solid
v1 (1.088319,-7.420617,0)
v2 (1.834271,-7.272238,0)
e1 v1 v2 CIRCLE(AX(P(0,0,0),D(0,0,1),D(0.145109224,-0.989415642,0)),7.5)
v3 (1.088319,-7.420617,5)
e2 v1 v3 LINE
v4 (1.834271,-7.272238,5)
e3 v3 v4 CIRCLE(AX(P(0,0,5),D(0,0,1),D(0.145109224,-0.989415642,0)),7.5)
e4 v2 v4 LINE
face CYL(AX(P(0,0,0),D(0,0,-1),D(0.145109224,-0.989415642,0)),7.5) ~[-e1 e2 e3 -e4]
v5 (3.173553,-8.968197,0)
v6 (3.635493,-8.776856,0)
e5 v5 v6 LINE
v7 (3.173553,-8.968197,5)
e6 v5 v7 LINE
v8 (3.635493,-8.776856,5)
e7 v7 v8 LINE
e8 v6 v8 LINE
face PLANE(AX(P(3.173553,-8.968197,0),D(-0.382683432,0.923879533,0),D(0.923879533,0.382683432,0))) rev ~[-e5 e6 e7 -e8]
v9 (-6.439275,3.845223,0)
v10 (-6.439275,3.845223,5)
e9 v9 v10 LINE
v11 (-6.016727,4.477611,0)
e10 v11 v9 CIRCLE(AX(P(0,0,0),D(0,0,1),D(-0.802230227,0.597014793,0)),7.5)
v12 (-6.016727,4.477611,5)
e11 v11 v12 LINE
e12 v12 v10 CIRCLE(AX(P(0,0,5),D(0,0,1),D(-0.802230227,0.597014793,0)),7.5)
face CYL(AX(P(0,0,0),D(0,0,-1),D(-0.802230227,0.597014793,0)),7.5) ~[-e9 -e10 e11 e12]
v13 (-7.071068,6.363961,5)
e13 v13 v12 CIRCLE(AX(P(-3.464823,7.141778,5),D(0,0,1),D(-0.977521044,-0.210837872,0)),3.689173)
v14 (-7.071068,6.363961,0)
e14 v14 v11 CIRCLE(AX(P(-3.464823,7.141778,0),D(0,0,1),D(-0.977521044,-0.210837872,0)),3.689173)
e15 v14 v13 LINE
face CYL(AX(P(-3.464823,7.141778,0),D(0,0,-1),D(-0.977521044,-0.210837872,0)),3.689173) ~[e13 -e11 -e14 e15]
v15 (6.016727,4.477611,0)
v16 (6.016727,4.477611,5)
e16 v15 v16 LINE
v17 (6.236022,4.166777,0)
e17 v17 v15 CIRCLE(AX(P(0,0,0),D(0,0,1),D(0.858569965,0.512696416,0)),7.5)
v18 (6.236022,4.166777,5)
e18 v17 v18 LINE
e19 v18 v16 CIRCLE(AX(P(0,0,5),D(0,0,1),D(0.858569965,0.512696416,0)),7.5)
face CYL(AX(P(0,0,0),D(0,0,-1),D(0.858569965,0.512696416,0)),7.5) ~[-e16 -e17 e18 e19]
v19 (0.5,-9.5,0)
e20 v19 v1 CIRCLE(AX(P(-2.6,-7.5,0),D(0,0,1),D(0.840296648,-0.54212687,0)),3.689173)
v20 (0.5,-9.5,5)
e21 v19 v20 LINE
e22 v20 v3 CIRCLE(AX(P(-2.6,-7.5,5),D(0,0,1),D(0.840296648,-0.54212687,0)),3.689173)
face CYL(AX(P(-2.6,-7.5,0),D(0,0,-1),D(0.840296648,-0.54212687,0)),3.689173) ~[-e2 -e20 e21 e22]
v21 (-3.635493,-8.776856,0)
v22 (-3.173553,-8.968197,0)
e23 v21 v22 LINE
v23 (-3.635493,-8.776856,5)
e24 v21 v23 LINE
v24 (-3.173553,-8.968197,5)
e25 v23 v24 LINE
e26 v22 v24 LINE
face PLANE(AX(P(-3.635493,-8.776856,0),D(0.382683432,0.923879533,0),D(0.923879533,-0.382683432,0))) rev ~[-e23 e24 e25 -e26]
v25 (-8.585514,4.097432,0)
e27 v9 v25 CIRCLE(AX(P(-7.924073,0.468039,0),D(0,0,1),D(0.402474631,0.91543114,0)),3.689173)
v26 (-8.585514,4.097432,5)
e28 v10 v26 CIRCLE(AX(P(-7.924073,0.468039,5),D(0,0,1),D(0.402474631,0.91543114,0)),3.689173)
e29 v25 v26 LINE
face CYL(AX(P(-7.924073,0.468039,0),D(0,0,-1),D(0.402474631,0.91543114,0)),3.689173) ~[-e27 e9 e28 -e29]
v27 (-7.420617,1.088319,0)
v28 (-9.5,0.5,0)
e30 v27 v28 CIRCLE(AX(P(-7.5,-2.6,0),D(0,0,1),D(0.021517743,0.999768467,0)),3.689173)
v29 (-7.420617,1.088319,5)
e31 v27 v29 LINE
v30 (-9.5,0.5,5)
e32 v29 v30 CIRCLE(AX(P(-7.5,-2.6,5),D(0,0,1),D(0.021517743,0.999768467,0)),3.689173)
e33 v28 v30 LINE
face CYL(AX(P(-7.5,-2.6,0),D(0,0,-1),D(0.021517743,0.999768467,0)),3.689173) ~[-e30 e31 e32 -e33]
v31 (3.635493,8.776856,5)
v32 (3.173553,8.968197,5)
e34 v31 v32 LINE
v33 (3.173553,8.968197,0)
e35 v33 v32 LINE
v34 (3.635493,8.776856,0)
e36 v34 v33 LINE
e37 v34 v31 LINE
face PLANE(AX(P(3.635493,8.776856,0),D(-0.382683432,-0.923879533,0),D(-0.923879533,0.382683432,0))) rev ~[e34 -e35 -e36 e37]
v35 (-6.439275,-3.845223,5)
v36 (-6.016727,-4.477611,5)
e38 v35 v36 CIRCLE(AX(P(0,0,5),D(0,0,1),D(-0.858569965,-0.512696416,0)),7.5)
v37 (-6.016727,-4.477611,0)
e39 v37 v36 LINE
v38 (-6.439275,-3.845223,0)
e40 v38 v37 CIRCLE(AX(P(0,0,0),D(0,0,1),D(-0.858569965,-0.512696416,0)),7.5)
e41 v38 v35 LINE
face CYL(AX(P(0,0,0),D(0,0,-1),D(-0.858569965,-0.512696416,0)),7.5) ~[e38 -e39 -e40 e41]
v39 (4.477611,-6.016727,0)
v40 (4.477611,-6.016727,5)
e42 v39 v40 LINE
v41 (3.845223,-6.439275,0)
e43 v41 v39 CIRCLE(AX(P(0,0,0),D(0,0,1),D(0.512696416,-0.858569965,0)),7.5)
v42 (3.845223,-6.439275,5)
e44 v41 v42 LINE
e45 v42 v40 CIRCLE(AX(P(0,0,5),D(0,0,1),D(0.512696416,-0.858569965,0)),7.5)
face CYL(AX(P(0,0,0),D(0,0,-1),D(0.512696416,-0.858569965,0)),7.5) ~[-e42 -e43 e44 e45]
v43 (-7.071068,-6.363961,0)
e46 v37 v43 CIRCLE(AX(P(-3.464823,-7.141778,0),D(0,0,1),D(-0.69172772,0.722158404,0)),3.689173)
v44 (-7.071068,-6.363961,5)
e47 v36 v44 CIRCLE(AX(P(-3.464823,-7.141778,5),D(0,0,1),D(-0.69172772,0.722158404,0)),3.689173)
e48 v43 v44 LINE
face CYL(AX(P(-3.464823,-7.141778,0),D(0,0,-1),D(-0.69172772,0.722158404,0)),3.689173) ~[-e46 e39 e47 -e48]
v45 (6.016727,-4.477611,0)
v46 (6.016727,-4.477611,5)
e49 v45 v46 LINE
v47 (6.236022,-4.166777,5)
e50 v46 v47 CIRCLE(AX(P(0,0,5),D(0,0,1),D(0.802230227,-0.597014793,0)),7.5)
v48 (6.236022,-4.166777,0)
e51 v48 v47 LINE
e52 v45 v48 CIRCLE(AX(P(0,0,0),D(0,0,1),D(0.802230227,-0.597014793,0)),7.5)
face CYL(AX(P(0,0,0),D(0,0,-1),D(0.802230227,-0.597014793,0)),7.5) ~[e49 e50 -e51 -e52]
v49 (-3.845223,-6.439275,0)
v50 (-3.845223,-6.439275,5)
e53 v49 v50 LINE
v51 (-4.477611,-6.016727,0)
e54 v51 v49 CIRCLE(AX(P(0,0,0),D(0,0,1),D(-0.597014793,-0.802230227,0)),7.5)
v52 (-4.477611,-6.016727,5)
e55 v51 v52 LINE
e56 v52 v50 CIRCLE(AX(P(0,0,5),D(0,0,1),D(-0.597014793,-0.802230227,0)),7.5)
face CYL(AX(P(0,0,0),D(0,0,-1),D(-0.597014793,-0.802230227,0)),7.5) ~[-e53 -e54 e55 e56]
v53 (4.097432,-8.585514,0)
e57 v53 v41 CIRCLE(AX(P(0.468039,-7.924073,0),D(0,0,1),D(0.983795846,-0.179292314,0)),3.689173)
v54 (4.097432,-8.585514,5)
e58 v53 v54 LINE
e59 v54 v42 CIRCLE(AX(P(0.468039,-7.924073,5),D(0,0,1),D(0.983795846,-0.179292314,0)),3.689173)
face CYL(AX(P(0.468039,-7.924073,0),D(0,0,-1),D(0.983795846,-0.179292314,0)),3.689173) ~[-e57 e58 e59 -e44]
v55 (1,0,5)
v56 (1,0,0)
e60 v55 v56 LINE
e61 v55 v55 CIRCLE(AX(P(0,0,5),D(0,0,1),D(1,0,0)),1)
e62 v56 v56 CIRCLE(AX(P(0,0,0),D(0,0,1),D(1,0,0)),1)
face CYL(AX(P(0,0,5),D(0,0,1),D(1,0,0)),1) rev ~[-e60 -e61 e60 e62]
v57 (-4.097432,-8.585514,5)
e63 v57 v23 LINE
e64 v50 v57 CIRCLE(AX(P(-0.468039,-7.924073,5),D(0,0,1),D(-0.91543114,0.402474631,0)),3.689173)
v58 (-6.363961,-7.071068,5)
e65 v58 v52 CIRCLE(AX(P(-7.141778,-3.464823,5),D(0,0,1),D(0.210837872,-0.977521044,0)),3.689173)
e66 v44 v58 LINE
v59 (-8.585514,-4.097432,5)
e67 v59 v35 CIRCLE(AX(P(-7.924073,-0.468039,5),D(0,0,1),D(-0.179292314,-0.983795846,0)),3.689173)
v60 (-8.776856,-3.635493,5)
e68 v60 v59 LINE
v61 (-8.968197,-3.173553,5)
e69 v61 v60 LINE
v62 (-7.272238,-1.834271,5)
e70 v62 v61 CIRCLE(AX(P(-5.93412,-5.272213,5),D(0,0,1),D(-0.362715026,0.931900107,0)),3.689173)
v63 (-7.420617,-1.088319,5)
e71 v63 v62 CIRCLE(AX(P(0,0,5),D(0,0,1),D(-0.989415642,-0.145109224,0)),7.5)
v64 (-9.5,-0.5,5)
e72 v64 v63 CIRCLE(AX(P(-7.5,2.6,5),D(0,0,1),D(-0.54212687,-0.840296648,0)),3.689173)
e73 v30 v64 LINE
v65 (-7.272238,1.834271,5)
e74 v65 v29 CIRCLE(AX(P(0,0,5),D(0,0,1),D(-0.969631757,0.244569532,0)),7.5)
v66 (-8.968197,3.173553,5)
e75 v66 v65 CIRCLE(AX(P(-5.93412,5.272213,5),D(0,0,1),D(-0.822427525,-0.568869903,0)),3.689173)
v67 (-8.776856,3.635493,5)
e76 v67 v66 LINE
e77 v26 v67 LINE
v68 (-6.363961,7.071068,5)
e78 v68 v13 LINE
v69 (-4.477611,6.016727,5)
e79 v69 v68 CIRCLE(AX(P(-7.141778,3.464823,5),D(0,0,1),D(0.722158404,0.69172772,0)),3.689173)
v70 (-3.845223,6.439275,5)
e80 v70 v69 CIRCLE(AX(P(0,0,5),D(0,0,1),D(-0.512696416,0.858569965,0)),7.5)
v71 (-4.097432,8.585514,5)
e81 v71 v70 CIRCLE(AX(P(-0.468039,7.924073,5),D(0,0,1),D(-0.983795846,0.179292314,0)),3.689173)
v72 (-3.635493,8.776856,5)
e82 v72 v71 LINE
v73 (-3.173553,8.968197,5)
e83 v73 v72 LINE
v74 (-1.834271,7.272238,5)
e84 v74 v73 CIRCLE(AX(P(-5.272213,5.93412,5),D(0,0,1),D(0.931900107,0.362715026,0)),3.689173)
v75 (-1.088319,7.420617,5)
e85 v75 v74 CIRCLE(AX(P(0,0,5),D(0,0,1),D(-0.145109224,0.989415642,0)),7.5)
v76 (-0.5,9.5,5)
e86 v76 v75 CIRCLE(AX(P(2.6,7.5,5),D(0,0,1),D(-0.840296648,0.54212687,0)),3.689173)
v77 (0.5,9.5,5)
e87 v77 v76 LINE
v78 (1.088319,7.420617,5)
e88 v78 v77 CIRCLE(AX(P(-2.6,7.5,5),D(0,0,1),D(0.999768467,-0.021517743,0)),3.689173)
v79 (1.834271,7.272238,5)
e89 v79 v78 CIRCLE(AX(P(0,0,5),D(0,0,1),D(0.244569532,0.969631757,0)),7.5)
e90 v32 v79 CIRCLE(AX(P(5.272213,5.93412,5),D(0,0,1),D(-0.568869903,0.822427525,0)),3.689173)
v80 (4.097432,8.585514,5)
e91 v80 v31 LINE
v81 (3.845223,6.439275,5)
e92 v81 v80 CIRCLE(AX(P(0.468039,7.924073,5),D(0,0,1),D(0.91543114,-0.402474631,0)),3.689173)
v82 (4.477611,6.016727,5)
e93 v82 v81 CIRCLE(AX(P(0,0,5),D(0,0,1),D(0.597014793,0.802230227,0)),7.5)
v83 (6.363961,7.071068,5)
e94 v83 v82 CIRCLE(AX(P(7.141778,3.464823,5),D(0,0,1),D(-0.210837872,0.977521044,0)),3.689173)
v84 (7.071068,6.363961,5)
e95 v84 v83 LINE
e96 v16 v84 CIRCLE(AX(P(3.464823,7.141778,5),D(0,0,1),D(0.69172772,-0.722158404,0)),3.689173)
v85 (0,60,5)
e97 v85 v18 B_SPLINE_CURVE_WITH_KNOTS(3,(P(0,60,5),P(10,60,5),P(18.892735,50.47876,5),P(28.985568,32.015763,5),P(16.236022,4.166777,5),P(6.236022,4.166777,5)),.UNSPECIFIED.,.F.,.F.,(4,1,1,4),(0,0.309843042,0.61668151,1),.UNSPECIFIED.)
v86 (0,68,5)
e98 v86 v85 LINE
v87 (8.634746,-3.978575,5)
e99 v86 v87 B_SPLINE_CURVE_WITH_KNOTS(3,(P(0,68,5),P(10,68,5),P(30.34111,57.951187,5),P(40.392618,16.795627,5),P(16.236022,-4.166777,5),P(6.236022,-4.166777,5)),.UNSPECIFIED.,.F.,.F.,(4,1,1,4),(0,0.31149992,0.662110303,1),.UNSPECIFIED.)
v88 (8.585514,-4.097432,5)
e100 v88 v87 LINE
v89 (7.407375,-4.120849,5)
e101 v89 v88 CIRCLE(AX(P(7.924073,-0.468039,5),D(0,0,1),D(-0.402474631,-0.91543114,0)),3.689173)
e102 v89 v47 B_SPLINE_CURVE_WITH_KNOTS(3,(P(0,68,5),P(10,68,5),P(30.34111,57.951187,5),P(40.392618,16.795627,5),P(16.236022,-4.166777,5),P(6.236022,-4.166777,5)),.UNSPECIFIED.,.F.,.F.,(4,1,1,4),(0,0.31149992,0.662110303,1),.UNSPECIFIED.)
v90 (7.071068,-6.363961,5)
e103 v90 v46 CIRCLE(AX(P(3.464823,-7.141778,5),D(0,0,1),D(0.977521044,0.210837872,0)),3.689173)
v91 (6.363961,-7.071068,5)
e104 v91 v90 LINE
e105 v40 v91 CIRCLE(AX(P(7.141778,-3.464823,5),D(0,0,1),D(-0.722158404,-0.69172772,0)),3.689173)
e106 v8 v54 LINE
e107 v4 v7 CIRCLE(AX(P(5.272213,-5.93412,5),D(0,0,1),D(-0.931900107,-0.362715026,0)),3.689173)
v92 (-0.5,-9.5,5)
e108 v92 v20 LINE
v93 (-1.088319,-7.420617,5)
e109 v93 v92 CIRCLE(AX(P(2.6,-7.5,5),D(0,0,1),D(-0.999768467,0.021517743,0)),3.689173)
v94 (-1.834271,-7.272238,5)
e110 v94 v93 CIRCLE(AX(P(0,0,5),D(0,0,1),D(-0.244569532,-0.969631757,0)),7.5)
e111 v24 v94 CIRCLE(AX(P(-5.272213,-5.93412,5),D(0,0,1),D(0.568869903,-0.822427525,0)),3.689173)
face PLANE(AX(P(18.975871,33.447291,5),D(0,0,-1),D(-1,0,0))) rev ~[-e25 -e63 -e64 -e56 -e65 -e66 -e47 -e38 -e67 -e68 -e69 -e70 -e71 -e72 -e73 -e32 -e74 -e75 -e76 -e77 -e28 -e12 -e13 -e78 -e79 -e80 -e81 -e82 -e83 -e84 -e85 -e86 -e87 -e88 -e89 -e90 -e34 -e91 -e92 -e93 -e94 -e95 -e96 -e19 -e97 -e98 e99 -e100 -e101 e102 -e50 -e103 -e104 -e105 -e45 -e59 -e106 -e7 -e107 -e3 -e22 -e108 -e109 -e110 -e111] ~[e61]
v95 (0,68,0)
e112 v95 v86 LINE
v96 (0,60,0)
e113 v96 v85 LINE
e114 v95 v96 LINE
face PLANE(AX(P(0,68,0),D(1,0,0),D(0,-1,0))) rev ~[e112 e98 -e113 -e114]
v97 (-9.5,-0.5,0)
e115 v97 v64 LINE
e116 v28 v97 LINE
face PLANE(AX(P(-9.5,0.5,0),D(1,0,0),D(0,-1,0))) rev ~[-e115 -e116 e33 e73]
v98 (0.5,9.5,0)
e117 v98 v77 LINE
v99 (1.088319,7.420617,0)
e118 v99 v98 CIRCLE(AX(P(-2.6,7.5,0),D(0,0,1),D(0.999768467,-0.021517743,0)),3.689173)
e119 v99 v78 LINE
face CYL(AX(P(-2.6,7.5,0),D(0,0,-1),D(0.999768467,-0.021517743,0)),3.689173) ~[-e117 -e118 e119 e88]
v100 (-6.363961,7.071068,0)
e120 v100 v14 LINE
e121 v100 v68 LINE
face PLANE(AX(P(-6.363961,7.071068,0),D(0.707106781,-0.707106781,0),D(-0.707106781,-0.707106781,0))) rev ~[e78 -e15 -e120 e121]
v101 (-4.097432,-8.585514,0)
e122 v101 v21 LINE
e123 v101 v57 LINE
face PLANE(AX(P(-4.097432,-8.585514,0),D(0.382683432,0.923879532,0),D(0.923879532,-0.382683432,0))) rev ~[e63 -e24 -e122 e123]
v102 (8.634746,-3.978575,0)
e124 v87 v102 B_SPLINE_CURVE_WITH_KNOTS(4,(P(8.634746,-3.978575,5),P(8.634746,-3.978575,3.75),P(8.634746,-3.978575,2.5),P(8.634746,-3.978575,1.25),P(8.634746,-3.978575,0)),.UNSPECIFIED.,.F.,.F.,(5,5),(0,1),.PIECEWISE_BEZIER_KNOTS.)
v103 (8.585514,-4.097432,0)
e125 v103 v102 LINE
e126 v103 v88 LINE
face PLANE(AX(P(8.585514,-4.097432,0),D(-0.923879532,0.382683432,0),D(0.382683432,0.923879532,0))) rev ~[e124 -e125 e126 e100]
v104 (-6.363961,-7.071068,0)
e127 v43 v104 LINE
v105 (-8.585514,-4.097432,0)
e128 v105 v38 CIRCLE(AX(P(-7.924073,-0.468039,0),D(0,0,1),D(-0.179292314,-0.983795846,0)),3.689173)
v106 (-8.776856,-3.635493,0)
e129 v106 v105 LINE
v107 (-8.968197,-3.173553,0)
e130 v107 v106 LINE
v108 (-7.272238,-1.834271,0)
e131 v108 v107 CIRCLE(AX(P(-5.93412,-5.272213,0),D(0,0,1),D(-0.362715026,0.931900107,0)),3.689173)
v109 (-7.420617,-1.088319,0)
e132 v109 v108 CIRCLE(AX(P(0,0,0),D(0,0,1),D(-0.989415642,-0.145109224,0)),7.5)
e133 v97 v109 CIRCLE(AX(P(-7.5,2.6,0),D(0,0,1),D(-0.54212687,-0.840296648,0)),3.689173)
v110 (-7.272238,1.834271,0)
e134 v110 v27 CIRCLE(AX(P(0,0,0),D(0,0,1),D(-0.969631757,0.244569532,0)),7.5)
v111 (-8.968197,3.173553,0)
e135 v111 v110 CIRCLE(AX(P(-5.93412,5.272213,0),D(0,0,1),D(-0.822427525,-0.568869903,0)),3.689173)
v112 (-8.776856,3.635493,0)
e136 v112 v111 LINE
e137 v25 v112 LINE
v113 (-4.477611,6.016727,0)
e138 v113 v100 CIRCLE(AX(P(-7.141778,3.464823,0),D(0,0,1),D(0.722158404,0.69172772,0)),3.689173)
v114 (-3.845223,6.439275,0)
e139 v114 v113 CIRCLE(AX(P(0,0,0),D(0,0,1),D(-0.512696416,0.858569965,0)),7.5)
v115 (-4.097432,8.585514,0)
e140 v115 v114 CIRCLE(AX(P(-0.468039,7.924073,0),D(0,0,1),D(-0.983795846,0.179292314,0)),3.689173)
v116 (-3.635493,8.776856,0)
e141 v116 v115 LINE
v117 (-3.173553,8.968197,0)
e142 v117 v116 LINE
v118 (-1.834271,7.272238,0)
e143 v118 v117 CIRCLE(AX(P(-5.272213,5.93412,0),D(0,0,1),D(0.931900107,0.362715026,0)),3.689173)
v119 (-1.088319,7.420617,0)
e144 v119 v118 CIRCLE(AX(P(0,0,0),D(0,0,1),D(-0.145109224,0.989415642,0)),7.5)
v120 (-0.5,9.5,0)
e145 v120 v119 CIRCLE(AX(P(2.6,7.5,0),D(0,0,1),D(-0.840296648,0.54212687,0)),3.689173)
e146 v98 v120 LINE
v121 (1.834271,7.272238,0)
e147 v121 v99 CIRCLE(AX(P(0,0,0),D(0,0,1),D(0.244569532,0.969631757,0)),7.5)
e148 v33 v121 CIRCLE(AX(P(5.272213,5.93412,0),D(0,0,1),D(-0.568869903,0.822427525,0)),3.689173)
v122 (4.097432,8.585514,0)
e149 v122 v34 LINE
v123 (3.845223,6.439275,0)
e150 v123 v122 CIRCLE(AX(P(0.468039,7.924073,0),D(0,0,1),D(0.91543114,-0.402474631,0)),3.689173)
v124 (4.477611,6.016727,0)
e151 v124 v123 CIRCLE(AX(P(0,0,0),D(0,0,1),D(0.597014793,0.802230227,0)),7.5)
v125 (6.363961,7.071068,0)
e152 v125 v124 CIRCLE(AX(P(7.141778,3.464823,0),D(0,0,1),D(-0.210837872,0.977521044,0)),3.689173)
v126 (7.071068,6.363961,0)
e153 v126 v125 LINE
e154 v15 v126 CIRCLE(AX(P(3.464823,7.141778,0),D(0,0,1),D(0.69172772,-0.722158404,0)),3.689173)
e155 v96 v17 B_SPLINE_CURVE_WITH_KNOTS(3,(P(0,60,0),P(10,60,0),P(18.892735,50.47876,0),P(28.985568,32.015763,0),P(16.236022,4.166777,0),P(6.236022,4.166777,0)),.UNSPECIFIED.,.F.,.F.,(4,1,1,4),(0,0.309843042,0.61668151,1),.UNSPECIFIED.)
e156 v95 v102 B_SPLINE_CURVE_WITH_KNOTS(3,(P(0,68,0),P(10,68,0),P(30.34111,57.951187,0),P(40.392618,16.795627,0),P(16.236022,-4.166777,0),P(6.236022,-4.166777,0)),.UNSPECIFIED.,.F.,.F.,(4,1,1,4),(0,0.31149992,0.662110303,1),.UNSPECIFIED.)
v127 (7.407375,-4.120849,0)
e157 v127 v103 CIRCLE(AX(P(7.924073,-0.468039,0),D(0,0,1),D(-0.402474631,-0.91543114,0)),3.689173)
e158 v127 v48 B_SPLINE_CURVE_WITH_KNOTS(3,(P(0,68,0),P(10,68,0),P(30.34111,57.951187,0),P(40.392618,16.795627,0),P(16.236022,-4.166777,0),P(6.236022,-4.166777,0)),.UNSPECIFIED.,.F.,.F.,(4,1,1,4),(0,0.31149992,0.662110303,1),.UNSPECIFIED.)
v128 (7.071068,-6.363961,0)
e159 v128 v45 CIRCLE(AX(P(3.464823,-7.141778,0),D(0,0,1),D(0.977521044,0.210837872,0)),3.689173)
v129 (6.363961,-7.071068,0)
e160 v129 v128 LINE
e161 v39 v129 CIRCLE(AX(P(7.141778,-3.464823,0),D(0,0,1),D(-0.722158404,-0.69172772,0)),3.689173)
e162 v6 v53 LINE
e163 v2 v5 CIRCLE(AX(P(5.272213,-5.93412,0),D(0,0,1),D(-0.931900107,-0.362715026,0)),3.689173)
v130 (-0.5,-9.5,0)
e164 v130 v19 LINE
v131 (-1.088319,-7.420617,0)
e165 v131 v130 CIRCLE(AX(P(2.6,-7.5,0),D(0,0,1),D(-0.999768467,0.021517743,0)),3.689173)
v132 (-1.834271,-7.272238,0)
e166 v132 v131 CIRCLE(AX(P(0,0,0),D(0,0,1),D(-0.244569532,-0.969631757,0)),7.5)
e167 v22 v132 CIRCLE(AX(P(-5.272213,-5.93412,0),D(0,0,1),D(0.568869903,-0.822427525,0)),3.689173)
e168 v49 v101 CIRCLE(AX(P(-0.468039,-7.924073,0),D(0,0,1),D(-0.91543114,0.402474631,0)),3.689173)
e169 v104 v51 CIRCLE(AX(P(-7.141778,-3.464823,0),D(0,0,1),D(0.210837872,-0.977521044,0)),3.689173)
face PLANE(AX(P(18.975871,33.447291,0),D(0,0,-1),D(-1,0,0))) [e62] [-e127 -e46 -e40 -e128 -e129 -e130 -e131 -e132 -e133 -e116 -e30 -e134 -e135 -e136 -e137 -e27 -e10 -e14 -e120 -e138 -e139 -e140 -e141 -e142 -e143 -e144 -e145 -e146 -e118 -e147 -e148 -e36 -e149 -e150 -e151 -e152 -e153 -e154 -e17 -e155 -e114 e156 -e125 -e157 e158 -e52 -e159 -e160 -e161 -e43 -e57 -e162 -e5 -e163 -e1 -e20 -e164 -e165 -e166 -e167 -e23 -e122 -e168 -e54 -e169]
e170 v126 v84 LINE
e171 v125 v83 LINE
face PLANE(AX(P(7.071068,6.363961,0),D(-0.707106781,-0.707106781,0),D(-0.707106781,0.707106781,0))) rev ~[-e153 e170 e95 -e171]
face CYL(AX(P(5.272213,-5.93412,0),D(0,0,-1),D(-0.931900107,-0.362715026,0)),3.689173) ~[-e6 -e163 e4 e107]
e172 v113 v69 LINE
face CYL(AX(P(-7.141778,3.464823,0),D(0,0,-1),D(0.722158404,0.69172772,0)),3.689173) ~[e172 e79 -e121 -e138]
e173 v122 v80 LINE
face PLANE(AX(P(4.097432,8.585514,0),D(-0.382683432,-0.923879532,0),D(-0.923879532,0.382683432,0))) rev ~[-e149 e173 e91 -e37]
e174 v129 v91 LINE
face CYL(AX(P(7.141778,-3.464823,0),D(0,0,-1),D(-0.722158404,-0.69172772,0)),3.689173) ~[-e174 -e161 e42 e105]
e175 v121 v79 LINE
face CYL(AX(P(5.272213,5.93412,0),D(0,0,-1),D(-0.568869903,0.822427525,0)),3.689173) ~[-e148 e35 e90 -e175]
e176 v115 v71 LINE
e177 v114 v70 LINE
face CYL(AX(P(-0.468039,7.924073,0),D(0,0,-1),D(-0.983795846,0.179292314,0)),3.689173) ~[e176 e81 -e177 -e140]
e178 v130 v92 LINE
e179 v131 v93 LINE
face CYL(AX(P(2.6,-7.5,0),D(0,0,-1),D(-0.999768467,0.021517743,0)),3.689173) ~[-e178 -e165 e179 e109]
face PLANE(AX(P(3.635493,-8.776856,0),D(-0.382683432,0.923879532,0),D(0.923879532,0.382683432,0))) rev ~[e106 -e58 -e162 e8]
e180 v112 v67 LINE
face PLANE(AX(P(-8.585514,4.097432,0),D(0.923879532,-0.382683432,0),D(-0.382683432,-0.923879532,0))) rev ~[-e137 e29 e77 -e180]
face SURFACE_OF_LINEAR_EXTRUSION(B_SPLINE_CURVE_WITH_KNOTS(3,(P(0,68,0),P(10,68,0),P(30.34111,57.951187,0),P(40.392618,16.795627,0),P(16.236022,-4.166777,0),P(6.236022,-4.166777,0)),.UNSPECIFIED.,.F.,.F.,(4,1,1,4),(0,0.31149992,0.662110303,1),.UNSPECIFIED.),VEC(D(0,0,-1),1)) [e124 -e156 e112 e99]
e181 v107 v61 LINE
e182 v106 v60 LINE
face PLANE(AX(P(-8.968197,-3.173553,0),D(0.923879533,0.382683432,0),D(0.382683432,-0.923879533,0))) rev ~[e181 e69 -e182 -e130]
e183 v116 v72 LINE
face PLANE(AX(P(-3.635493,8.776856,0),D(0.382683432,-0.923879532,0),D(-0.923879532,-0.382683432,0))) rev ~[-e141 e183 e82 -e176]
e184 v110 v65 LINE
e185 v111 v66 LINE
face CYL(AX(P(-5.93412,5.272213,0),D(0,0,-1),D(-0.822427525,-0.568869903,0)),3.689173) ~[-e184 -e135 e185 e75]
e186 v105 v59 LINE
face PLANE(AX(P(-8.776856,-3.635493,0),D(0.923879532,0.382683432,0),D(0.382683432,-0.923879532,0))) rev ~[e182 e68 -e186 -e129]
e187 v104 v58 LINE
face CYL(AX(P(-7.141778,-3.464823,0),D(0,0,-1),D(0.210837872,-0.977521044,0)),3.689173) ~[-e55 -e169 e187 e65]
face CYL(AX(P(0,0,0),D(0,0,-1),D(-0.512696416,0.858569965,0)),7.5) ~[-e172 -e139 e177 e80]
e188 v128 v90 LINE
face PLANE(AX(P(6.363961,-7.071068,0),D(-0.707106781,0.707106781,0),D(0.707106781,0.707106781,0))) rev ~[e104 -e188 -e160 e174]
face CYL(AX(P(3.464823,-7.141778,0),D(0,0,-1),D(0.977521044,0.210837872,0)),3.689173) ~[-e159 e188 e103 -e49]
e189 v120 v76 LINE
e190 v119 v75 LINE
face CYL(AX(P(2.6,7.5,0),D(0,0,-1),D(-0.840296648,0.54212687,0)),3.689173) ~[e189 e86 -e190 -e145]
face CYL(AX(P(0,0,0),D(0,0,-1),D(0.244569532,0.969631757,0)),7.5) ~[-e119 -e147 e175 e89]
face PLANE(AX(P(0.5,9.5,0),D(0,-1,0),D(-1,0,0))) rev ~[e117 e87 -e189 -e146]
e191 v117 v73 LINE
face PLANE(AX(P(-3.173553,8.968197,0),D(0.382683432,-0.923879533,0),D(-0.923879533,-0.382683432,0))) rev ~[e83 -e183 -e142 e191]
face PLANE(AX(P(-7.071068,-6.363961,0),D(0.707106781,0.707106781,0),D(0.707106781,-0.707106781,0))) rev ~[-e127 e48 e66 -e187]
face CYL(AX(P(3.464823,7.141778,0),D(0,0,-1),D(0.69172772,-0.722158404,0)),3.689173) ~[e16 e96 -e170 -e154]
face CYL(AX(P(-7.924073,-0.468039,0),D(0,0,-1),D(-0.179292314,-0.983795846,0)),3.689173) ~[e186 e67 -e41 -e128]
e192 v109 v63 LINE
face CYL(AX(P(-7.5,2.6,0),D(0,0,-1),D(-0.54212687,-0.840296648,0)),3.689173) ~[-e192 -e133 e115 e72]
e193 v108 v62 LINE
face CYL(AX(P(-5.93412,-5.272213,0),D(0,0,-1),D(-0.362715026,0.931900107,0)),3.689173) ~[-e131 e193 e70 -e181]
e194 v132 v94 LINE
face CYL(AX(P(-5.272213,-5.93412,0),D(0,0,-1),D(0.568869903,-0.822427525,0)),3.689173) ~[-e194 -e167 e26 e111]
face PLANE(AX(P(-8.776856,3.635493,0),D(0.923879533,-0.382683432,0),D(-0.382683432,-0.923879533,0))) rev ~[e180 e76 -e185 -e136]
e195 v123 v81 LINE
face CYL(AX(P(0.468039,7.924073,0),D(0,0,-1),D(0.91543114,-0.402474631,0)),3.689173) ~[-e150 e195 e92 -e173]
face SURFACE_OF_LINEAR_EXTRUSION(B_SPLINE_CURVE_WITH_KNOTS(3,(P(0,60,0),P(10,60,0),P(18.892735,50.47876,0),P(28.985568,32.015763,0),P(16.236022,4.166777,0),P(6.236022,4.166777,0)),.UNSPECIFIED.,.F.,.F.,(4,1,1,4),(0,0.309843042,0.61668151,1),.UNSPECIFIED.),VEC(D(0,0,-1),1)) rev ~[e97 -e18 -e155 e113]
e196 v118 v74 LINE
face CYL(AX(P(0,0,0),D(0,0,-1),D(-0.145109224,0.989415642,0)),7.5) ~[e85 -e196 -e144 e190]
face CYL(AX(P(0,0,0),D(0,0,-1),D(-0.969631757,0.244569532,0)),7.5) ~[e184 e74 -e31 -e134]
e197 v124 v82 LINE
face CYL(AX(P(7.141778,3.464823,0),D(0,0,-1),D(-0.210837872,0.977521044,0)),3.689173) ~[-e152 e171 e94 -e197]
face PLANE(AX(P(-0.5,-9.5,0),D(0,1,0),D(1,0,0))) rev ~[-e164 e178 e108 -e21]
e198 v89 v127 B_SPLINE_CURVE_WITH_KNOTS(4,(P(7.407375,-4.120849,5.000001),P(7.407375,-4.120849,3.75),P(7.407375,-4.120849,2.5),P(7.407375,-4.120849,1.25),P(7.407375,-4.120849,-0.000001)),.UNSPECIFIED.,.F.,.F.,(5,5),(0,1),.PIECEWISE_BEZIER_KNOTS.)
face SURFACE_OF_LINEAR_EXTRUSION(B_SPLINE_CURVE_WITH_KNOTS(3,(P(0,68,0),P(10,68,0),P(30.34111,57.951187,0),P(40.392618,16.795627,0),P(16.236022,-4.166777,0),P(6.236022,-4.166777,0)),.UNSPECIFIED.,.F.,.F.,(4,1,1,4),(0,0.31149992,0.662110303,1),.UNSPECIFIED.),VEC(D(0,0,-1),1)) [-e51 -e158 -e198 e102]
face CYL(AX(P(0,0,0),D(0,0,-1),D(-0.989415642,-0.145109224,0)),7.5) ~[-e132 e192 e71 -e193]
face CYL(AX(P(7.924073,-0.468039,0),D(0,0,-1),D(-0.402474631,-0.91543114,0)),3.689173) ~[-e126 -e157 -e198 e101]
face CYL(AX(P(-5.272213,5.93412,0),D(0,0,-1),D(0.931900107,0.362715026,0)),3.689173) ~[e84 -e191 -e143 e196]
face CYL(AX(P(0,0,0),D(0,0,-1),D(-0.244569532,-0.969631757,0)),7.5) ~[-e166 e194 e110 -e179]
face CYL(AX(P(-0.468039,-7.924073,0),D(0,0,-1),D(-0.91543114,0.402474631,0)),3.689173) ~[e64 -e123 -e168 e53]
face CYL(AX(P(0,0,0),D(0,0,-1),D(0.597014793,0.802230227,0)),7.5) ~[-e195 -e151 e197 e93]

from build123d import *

# Parameters (mm, degrees)
F1_DEPTH = 5
F2_R     = 1
F3_DEPTH = 5.001
F5_DEPTH = 5


with BuildPart() as f1:
    # F0 (on Top) → F1 (new body)
    with BuildSketch(Plane.XY):
        with BuildLine():
            ThreePointArc((7.4206173165, -1.0883191822), (7.4801280027, -0.5456052265), (7.5, 0))
            ThreePointArc((7.5, 0), (7.4801280027, 0.5456052265), (7.4206173165, 1.0883191822))
            ThreePointArc((7.4206173165, 1.0883191822), (7.355889603, 1.4631774151), (7.2722381774, 1.8342714877))
            ThreePointArc((7.2722381774, 1.8342714877), (6.9290964938, 2.8701257427), (6.4392747372, 3.8452231222))
            ThreePointArc((6.4392747372, 3.8452231222), (6.2360220923, 4.1667767476), (6.0167266989, 4.4776109513))
            ThreePointArc((6.0167266989, 4.4776109513), (5.3033008589, 5.3033008589), (4.4776109513, 6.0167266989))
            ThreePointArc((4.4776109513, 6.0167266989), (4.1667767476, 6.2360220923), (3.8452231222, 6.4392747372))
            ThreePointArc((3.8452231222, 6.4392747372), (2.8701257427, 6.9290964938), (1.8342714877, 7.2722381774))
            ThreePointArc((1.8342714877, 7.2722381774), (1.4631774151, 7.355889603), (1.0883191822, 7.4206173165))
            ThreePointArc((1.0883191822, 7.4206173165), (0, 7.5), (-1.0883191822, 7.4206173165))
            ThreePointArc((-1.0883191822, 7.4206173165), (-1.4631774151, 7.355889603), (-1.8342714877, 7.2722381774))
            ThreePointArc((-1.8342714877, 7.2722381774), (-2.8701257427, 6.9290964938), (-3.8452231222, 6.4392747372))
            ThreePointArc((-3.8452231222, 6.4392747372), (-4.1667767476, 6.2360220923), (-4.4776109513, 6.0167266989))
            ThreePointArc((-4.4776109513, 6.0167266989), (-5.3033008589, 5.3033008589), (-6.0167266989, 4.4776109513))
            ThreePointArc((-6.0167266989, 4.4776109513), (-6.2360220923, 4.1667767476), (-6.4392747372, 3.8452231222))
            ThreePointArc((-6.4392747372, 3.8452231222), (-6.9290964938, 2.8701257427), (-7.2722381774, 1.8342714877))
            ThreePointArc((-7.2722381774, 1.8342714877), (-7.355889603, 1.4631774151), (-7.4206173165, 1.0883191822))
            ThreePointArc((-7.4206173165, 1.0883191822), (-7.5, 0), (-7.4206173165, -1.0883191822))
            ThreePointArc((-7.4206173165, -1.0883191822), (-7.355889603, -1.4631774151), (-7.2722381774, -1.8342714877))
            ThreePointArc((-7.2722381774, -1.8342714877), (-6.9290964938, -2.8701257427), (-6.4392747372, -3.8452231222))
            ThreePointArc((-6.4392747372, -3.8452231222), (-6.2360220923, -4.1667767476), (-6.0167266989, -4.4776109513))
            ThreePointArc((-6.0167266989, -4.4776109513), (-5.3033008589, -5.3033008589), (-4.4776109513, -6.0167266989))
            ThreePointArc((-4.4776109513, -6.0167266989), (-4.1667767476, -6.2360220923), (-3.8452231222, -6.4392747372))
            ThreePointArc((-3.8452231222, -6.4392747372), (-2.8701257427, -6.9290964938), (-1.8342714877, -7.2722381774))
            ThreePointArc((-1.8342714877, -7.2722381774), (-1.4631774151, -7.355889603), (-1.0883191822, -7.4206173165))
            ThreePointArc((-1.0883191822, -7.4206173165), (0, -7.5), (1.0883191822, -7.4206173165))
            ThreePointArc((1.0883191822, -7.4206173165), (1.4631774151, -7.355889603), (1.8342714877, -7.2722381774))
            ThreePointArc((1.8342714877, -7.2722381774), (2.8701257427, -6.9290964938), (3.8452231222, -6.4392747372))
            ThreePointArc((3.8452231222, -6.4392747372), (4.1667767476, -6.2360220923), (4.4776109513, -6.0167266989))
            ThreePointArc((4.4776109513, -6.0167266989), (5.3033008589, -5.3033008589), (6.0167266989, -4.4776109513))
            ThreePointArc((6.0167266989, -4.4776109513), (6.2360220923, -4.1667767476), (6.4392747372, -3.8452231222))
            ThreePointArc((6.4392747372, -3.8452231222), (6.9290964938, -2.8701257427), (7.2722381774, -1.8342714877))
            ThreePointArc((7.2722381774, -1.8342714877), (7.355889603, -1.4631774151), (7.4206173165, -1.0883191822))
        make_face()
        with BuildLine():
            ThreePointArc((7.4206173165, 1.0883191822), (7.4801280027, 0.5456052265), (7.5, 0))
            ThreePointArc((7.5, 0), (7.4801280027, -0.5456052265), (7.4206173165, -1.0883191822))
            ThreePointArc((7.4206173165, -1.0883191822), (8.5043518229, -0.9498278009), (9.5, -0.5))
            Line((9.5, -0.5), (9.5, 0))
            Line((9.5, 0), (9.5, 0.5))
            ThreePointArc((9.5, 0.5), (8.5043518229, 0.9498278009), (7.4206173165, 1.0883191822))
        make_face()
        with BuildLine():
            ThreePointArc((6.4392747372, 3.8452231222), (6.9290964938, 2.8701257427), (7.2722381774, 1.8342714877))
            ThreePointArc((7.2722381774, 1.8342714877), (8.2204799494, 2.376948081), (8.968197275, 3.1735528412))
            Line((8.968197275, 3.1735528412), (8.7768555589, 3.6354926075))
            Line((8.7768555589, 3.6354926075), (8.5855138427, 4.0974323737))
            ThreePointArc((8.5855138427, 4.0974323737), (7.4935132234, 4.1320010103), (6.4392747372, 3.8452231222))
        make_face()
        with BuildLine():
            ThreePointArc((8.968197275, -3.1735528412), (8.2204799494, -2.376948081), (7.2722381774, -1.8342714877))
            ThreePointArc((7.2722381774, -1.8342714877), (6.9290964938, -2.8701257427), (6.4392747372, -3.8452231222))
            ThreePointArc((6.4392747372, -3.8452231222), (7.4935132234, -4.1320010103), (8.5855138427, -4.0974323737))
            Line((8.5855138427, -4.0974323737), (8.7768555589, -3.6354926075))
            Line((8.7768555589, -3.6354926075), (8.968197275, -3.1735528412))
        make_face()
        with BuildLine():
            ThreePointArc((4.4776109513, 6.0167266989), (5.3033008589, 5.3033008589), (6.0167266989, 4.4776109513))
            ThreePointArc((6.0167266989, 4.4776109513), (6.6851145225, 5.3418551646), (7.0710678119, 6.3639610307))
            Line((7.0710678119, 6.3639610307), (6.7175144213, 6.7175144213))
            Line((6.7175144213, 6.7175144213), (6.3639610307, 7.0710678119))
            ThreePointArc((6.3639610307, 7.0710678119), (5.3418551646, 6.6851145225), (4.4776109513, 6.0167266989))
        make_face()
        with BuildLine():
            ThreePointArc((7.0710678119, -6.3639610307), (6.6851145225, -5.3418551646), (6.0167266989, -4.4776109513))
            ThreePointArc((6.0167266989, -4.4776109513), (5.3033008589, -5.3033008589), (4.4776109513, -6.0167266989))
            ThreePointArc((4.4776109513, -6.0167266989), (5.3418551646, -6.6851145225), (6.3639610307, -7.0710678119))
            Line((6.3639610307, -7.0710678119), (6.7175144213, -6.7175144213))
            Line((6.7175144213, -6.7175144213), (7.0710678119, -6.3639610307))
        make_face()
        with BuildLine():
            ThreePointArc((1.8342714877, 7.2722381774), (2.8701257427, 6.9290964938), (3.8452231222, 6.4392747372))
            ThreePointArc((3.8452231222, 6.4392747372), (4.1320010103, 7.4935132234), (4.0974323737, 8.5855138427))
            Line((4.0974323737, 8.5855138427), (3.6354926075, 8.7768555589))
            Line((3.6354926075, 8.7768555589), (3.1735528412, 8.968197275))
            ThreePointArc((3.1735528412, 8.968197275), (2.376948081, 8.2204799494), (1.8342714877, 7.2722381774))
        make_face()
        with BuildLine():
            ThreePointArc((4.0974323737, -8.5855138427), (4.1320010103, -7.4935132234), (3.8452231222, -6.4392747372))
            ThreePointArc((3.8452231222, -6.4392747372), (2.8701257427, -6.9290964938), (1.8342714877, -7.2722381774))
            ThreePointArc((1.8342714877, -7.2722381774), (2.376948081, -8.2204799494), (3.1735528412, -8.968197275))
            Line((3.1735528412, -8.968197275), (3.6354926075, -8.7768555589))
            Line((3.6354926075, -8.7768555589), (4.0974323737, -8.5855138427))
        make_face()
        with BuildLine():
            ThreePointArc((-1.0883191822, 7.4206173165), (0, 7.5), (1.0883191822, 7.4206173165))
            ThreePointArc((1.0883191822, 7.4206173165), (0.9498278009, 8.5043518229), (0.5, 9.5))
            Line((0.5, 9.5), (0, 9.5))
            Line((0, 9.5), (-0.5, 9.5))
            ThreePointArc((-0.5, 9.5), (-0.9498278009, 8.5043518229), (-1.0883191822, 7.4206173165))
        make_face()
        with BuildLine():
            ThreePointArc((0.5, -9.5), (0.9498278009, -8.5043518229), (1.0883191822, -7.4206173165))
            ThreePointArc((1.0883191822, -7.4206173165), (0, -7.5), (-1.0883191822, -7.4206173165))
            ThreePointArc((-1.0883191822, -7.4206173165), (-0.9498278009, -8.5043518229), (-0.5, -9.5))
            Line((-0.5, -9.5), (0, -9.5))
            Line((0, -9.5), (0.5, -9.5))
        make_face()
        with BuildLine():
            ThreePointArc((-3.8452231222, 6.4392747372), (-2.8701257427, 6.9290964938), (-1.8342714877, 7.2722381774))
            ThreePointArc((-1.8342714877, 7.2722381774), (-2.376948081, 8.2204799494), (-3.1735528412, 8.968197275))
            Line((-3.1735528412, 8.968197275), (-3.6354926075, 8.7768555589))
            Line((-3.6354926075, 8.7768555589), (-4.0974323737, 8.5855138427))
            ThreePointArc((-4.0974323737, 8.5855138427), (-4.1320010103, 7.4935132234), (-3.8452231222, 6.4392747372))
        make_face()
        with BuildLine():
            ThreePointArc((-3.1735528412, -8.968197275), (-2.376948081, -8.2204799494), (-1.8342714877, -7.2722381774))
            ThreePointArc((-1.8342714877, -7.2722381774), (-2.8701257427, -6.9290964938), (-3.8452231222, -6.4392747372))
            ThreePointArc((-3.8452231222, -6.4392747372), (-4.1320010103, -7.4935132234), (-4.0974323737, -8.5855138427))
            Line((-4.0974323737, -8.5855138427), (-3.6354926075, -8.7768555589))
            Line((-3.6354926075, -8.7768555589), (-3.1735528412, -8.968197275))
        make_face()
        with BuildLine():
            ThreePointArc((-6.0167266989, 4.4776109513), (-5.3033008589, 5.3033008589), (-4.4776109513, 6.0167266989))
            ThreePointArc((-4.4776109513, 6.0167266989), (-5.3418551646, 6.6851145225), (-6.3639610307, 7.0710678119))
            Line((-6.3639610307, 7.0710678119), (-6.7175144213, 6.7175144213))
            Line((-6.7175144213, 6.7175144213), (-7.0710678119, 6.3639610307))
            ThreePointArc((-7.0710678119, 6.3639610307), (-6.6851145225, 5.3418551646), (-6.0167266989, 4.4776109513))
        make_face()
        with BuildLine():
            ThreePointArc((-6.3639610307, -7.0710678119), (-5.3418551646, -6.6851145225), (-4.4776109513, -6.0167266989))
            ThreePointArc((-4.4776109513, -6.0167266989), (-5.3033008589, -5.3033008589), (-6.0167266989, -4.4776109513))
            ThreePointArc((-6.0167266989, -4.4776109513), (-6.6851145225, -5.3418551646), (-7.0710678119, -6.3639610307))
            Line((-7.0710678119, -6.3639610307), (-6.7175144213, -6.7175144213))
            Line((-6.7175144213, -6.7175144213), (-6.3639610307, -7.0710678119))
        make_face()
        with BuildLine():
            ThreePointArc((-7.2722381774, 1.8342714877), (-6.9290964938, 2.8701257427), (-6.4392747372, 3.8452231222))
            ThreePointArc((-6.4392747372, 3.8452231222), (-7.4935132234, 4.1320010103), (-8.5855138427, 4.0974323737))
            Line((-8.5855138427, 4.0974323737), (-8.7768555589, 3.6354926075))
            Line((-8.7768555589, 3.6354926075), (-8.968197275, 3.1735528412))
            ThreePointArc((-8.968197275, 3.1735528412), (-8.2204799494, 2.376948081), (-7.2722381774, 1.8342714877))
        make_face()
        with BuildLine():
            ThreePointArc((-8.5855138427, -4.0974323737), (-7.4935132234, -4.1320010103), (-6.4392747372, -3.8452231222))
            ThreePointArc((-6.4392747372, -3.8452231222), (-6.9290964938, -2.8701257427), (-7.2722381774, -1.8342714877))
            ThreePointArc((-7.2722381774, -1.8342714877), (-8.2204799494, -2.376948081), (-8.968197275, -3.1735528412))
            Line((-8.968197275, -3.1735528412), (-8.7768555589, -3.6354926075))
            Line((-8.7768555589, -3.6354926075), (-8.5855138427, -4.0974323737))
        make_face()
        with BuildLine():
            ThreePointArc((-7.4206173165, -1.0883191822), (-7.5, 0), (-7.4206173165, 1.0883191822))
            ThreePointArc((-7.4206173165, 1.0883191822), (-8.5043518229, 0.9498278009), (-9.5, 0.5))
            Line((-9.5, 0.5), (-9.5, 0))
            Line((-9.5, 0), (-9.5, -0.5))
            ThreePointArc((-9.5, -0.5), (-8.5043518229, -0.9498278009), (-7.4206173165, -1.0883191822))
        make_face()
    extrude(amount=F1_DEPTH)

    # F2 (on face) → F3 (cut, through all)
    with BuildSketch(Plane.XY.offset(5)):
        Circle(F2_R)
    extrude(amount=-F3_DEPTH, mode=Mode.SUBTRACT)

    # F4 (on Top) → F5 (join, through all)
    with BuildSketch(Plane.XY):
        with BuildLine():
            add(Edge.make_bspline(
                [(0, 68), (10, 68), (30.3411100865, 57.9511873452), (40.3926177616, 16.7956269276), (16.2360220923, -4.1667767476), (6.2360220923, -4.1667767476)],
                knots=[0, 0, 0, 0, 0.3114999197, 0.6621103025, 1, 1, 1, 1], degree=3))
            Line((0, 68), (0, 60))
            add(Edge.make_bspline(
                [(0, 60), (10, 60), (18.8927354151, 50.4787600801), (28.9855676731, 32.0157628547), (16.2360220923, 4.1667767476), (6.2360220923, 4.1667767476)],
                knots=[0, 0, 0, 0, 0.3098430419, 0.6166815096, 1, 1, 1, 1], degree=3))
            Line((6.2360220923, 4.1667767476), (6.2360220923, -4.1667767476))
        make_face()
    extrude(amount=F5_DEPTH)


solid = f1.part
